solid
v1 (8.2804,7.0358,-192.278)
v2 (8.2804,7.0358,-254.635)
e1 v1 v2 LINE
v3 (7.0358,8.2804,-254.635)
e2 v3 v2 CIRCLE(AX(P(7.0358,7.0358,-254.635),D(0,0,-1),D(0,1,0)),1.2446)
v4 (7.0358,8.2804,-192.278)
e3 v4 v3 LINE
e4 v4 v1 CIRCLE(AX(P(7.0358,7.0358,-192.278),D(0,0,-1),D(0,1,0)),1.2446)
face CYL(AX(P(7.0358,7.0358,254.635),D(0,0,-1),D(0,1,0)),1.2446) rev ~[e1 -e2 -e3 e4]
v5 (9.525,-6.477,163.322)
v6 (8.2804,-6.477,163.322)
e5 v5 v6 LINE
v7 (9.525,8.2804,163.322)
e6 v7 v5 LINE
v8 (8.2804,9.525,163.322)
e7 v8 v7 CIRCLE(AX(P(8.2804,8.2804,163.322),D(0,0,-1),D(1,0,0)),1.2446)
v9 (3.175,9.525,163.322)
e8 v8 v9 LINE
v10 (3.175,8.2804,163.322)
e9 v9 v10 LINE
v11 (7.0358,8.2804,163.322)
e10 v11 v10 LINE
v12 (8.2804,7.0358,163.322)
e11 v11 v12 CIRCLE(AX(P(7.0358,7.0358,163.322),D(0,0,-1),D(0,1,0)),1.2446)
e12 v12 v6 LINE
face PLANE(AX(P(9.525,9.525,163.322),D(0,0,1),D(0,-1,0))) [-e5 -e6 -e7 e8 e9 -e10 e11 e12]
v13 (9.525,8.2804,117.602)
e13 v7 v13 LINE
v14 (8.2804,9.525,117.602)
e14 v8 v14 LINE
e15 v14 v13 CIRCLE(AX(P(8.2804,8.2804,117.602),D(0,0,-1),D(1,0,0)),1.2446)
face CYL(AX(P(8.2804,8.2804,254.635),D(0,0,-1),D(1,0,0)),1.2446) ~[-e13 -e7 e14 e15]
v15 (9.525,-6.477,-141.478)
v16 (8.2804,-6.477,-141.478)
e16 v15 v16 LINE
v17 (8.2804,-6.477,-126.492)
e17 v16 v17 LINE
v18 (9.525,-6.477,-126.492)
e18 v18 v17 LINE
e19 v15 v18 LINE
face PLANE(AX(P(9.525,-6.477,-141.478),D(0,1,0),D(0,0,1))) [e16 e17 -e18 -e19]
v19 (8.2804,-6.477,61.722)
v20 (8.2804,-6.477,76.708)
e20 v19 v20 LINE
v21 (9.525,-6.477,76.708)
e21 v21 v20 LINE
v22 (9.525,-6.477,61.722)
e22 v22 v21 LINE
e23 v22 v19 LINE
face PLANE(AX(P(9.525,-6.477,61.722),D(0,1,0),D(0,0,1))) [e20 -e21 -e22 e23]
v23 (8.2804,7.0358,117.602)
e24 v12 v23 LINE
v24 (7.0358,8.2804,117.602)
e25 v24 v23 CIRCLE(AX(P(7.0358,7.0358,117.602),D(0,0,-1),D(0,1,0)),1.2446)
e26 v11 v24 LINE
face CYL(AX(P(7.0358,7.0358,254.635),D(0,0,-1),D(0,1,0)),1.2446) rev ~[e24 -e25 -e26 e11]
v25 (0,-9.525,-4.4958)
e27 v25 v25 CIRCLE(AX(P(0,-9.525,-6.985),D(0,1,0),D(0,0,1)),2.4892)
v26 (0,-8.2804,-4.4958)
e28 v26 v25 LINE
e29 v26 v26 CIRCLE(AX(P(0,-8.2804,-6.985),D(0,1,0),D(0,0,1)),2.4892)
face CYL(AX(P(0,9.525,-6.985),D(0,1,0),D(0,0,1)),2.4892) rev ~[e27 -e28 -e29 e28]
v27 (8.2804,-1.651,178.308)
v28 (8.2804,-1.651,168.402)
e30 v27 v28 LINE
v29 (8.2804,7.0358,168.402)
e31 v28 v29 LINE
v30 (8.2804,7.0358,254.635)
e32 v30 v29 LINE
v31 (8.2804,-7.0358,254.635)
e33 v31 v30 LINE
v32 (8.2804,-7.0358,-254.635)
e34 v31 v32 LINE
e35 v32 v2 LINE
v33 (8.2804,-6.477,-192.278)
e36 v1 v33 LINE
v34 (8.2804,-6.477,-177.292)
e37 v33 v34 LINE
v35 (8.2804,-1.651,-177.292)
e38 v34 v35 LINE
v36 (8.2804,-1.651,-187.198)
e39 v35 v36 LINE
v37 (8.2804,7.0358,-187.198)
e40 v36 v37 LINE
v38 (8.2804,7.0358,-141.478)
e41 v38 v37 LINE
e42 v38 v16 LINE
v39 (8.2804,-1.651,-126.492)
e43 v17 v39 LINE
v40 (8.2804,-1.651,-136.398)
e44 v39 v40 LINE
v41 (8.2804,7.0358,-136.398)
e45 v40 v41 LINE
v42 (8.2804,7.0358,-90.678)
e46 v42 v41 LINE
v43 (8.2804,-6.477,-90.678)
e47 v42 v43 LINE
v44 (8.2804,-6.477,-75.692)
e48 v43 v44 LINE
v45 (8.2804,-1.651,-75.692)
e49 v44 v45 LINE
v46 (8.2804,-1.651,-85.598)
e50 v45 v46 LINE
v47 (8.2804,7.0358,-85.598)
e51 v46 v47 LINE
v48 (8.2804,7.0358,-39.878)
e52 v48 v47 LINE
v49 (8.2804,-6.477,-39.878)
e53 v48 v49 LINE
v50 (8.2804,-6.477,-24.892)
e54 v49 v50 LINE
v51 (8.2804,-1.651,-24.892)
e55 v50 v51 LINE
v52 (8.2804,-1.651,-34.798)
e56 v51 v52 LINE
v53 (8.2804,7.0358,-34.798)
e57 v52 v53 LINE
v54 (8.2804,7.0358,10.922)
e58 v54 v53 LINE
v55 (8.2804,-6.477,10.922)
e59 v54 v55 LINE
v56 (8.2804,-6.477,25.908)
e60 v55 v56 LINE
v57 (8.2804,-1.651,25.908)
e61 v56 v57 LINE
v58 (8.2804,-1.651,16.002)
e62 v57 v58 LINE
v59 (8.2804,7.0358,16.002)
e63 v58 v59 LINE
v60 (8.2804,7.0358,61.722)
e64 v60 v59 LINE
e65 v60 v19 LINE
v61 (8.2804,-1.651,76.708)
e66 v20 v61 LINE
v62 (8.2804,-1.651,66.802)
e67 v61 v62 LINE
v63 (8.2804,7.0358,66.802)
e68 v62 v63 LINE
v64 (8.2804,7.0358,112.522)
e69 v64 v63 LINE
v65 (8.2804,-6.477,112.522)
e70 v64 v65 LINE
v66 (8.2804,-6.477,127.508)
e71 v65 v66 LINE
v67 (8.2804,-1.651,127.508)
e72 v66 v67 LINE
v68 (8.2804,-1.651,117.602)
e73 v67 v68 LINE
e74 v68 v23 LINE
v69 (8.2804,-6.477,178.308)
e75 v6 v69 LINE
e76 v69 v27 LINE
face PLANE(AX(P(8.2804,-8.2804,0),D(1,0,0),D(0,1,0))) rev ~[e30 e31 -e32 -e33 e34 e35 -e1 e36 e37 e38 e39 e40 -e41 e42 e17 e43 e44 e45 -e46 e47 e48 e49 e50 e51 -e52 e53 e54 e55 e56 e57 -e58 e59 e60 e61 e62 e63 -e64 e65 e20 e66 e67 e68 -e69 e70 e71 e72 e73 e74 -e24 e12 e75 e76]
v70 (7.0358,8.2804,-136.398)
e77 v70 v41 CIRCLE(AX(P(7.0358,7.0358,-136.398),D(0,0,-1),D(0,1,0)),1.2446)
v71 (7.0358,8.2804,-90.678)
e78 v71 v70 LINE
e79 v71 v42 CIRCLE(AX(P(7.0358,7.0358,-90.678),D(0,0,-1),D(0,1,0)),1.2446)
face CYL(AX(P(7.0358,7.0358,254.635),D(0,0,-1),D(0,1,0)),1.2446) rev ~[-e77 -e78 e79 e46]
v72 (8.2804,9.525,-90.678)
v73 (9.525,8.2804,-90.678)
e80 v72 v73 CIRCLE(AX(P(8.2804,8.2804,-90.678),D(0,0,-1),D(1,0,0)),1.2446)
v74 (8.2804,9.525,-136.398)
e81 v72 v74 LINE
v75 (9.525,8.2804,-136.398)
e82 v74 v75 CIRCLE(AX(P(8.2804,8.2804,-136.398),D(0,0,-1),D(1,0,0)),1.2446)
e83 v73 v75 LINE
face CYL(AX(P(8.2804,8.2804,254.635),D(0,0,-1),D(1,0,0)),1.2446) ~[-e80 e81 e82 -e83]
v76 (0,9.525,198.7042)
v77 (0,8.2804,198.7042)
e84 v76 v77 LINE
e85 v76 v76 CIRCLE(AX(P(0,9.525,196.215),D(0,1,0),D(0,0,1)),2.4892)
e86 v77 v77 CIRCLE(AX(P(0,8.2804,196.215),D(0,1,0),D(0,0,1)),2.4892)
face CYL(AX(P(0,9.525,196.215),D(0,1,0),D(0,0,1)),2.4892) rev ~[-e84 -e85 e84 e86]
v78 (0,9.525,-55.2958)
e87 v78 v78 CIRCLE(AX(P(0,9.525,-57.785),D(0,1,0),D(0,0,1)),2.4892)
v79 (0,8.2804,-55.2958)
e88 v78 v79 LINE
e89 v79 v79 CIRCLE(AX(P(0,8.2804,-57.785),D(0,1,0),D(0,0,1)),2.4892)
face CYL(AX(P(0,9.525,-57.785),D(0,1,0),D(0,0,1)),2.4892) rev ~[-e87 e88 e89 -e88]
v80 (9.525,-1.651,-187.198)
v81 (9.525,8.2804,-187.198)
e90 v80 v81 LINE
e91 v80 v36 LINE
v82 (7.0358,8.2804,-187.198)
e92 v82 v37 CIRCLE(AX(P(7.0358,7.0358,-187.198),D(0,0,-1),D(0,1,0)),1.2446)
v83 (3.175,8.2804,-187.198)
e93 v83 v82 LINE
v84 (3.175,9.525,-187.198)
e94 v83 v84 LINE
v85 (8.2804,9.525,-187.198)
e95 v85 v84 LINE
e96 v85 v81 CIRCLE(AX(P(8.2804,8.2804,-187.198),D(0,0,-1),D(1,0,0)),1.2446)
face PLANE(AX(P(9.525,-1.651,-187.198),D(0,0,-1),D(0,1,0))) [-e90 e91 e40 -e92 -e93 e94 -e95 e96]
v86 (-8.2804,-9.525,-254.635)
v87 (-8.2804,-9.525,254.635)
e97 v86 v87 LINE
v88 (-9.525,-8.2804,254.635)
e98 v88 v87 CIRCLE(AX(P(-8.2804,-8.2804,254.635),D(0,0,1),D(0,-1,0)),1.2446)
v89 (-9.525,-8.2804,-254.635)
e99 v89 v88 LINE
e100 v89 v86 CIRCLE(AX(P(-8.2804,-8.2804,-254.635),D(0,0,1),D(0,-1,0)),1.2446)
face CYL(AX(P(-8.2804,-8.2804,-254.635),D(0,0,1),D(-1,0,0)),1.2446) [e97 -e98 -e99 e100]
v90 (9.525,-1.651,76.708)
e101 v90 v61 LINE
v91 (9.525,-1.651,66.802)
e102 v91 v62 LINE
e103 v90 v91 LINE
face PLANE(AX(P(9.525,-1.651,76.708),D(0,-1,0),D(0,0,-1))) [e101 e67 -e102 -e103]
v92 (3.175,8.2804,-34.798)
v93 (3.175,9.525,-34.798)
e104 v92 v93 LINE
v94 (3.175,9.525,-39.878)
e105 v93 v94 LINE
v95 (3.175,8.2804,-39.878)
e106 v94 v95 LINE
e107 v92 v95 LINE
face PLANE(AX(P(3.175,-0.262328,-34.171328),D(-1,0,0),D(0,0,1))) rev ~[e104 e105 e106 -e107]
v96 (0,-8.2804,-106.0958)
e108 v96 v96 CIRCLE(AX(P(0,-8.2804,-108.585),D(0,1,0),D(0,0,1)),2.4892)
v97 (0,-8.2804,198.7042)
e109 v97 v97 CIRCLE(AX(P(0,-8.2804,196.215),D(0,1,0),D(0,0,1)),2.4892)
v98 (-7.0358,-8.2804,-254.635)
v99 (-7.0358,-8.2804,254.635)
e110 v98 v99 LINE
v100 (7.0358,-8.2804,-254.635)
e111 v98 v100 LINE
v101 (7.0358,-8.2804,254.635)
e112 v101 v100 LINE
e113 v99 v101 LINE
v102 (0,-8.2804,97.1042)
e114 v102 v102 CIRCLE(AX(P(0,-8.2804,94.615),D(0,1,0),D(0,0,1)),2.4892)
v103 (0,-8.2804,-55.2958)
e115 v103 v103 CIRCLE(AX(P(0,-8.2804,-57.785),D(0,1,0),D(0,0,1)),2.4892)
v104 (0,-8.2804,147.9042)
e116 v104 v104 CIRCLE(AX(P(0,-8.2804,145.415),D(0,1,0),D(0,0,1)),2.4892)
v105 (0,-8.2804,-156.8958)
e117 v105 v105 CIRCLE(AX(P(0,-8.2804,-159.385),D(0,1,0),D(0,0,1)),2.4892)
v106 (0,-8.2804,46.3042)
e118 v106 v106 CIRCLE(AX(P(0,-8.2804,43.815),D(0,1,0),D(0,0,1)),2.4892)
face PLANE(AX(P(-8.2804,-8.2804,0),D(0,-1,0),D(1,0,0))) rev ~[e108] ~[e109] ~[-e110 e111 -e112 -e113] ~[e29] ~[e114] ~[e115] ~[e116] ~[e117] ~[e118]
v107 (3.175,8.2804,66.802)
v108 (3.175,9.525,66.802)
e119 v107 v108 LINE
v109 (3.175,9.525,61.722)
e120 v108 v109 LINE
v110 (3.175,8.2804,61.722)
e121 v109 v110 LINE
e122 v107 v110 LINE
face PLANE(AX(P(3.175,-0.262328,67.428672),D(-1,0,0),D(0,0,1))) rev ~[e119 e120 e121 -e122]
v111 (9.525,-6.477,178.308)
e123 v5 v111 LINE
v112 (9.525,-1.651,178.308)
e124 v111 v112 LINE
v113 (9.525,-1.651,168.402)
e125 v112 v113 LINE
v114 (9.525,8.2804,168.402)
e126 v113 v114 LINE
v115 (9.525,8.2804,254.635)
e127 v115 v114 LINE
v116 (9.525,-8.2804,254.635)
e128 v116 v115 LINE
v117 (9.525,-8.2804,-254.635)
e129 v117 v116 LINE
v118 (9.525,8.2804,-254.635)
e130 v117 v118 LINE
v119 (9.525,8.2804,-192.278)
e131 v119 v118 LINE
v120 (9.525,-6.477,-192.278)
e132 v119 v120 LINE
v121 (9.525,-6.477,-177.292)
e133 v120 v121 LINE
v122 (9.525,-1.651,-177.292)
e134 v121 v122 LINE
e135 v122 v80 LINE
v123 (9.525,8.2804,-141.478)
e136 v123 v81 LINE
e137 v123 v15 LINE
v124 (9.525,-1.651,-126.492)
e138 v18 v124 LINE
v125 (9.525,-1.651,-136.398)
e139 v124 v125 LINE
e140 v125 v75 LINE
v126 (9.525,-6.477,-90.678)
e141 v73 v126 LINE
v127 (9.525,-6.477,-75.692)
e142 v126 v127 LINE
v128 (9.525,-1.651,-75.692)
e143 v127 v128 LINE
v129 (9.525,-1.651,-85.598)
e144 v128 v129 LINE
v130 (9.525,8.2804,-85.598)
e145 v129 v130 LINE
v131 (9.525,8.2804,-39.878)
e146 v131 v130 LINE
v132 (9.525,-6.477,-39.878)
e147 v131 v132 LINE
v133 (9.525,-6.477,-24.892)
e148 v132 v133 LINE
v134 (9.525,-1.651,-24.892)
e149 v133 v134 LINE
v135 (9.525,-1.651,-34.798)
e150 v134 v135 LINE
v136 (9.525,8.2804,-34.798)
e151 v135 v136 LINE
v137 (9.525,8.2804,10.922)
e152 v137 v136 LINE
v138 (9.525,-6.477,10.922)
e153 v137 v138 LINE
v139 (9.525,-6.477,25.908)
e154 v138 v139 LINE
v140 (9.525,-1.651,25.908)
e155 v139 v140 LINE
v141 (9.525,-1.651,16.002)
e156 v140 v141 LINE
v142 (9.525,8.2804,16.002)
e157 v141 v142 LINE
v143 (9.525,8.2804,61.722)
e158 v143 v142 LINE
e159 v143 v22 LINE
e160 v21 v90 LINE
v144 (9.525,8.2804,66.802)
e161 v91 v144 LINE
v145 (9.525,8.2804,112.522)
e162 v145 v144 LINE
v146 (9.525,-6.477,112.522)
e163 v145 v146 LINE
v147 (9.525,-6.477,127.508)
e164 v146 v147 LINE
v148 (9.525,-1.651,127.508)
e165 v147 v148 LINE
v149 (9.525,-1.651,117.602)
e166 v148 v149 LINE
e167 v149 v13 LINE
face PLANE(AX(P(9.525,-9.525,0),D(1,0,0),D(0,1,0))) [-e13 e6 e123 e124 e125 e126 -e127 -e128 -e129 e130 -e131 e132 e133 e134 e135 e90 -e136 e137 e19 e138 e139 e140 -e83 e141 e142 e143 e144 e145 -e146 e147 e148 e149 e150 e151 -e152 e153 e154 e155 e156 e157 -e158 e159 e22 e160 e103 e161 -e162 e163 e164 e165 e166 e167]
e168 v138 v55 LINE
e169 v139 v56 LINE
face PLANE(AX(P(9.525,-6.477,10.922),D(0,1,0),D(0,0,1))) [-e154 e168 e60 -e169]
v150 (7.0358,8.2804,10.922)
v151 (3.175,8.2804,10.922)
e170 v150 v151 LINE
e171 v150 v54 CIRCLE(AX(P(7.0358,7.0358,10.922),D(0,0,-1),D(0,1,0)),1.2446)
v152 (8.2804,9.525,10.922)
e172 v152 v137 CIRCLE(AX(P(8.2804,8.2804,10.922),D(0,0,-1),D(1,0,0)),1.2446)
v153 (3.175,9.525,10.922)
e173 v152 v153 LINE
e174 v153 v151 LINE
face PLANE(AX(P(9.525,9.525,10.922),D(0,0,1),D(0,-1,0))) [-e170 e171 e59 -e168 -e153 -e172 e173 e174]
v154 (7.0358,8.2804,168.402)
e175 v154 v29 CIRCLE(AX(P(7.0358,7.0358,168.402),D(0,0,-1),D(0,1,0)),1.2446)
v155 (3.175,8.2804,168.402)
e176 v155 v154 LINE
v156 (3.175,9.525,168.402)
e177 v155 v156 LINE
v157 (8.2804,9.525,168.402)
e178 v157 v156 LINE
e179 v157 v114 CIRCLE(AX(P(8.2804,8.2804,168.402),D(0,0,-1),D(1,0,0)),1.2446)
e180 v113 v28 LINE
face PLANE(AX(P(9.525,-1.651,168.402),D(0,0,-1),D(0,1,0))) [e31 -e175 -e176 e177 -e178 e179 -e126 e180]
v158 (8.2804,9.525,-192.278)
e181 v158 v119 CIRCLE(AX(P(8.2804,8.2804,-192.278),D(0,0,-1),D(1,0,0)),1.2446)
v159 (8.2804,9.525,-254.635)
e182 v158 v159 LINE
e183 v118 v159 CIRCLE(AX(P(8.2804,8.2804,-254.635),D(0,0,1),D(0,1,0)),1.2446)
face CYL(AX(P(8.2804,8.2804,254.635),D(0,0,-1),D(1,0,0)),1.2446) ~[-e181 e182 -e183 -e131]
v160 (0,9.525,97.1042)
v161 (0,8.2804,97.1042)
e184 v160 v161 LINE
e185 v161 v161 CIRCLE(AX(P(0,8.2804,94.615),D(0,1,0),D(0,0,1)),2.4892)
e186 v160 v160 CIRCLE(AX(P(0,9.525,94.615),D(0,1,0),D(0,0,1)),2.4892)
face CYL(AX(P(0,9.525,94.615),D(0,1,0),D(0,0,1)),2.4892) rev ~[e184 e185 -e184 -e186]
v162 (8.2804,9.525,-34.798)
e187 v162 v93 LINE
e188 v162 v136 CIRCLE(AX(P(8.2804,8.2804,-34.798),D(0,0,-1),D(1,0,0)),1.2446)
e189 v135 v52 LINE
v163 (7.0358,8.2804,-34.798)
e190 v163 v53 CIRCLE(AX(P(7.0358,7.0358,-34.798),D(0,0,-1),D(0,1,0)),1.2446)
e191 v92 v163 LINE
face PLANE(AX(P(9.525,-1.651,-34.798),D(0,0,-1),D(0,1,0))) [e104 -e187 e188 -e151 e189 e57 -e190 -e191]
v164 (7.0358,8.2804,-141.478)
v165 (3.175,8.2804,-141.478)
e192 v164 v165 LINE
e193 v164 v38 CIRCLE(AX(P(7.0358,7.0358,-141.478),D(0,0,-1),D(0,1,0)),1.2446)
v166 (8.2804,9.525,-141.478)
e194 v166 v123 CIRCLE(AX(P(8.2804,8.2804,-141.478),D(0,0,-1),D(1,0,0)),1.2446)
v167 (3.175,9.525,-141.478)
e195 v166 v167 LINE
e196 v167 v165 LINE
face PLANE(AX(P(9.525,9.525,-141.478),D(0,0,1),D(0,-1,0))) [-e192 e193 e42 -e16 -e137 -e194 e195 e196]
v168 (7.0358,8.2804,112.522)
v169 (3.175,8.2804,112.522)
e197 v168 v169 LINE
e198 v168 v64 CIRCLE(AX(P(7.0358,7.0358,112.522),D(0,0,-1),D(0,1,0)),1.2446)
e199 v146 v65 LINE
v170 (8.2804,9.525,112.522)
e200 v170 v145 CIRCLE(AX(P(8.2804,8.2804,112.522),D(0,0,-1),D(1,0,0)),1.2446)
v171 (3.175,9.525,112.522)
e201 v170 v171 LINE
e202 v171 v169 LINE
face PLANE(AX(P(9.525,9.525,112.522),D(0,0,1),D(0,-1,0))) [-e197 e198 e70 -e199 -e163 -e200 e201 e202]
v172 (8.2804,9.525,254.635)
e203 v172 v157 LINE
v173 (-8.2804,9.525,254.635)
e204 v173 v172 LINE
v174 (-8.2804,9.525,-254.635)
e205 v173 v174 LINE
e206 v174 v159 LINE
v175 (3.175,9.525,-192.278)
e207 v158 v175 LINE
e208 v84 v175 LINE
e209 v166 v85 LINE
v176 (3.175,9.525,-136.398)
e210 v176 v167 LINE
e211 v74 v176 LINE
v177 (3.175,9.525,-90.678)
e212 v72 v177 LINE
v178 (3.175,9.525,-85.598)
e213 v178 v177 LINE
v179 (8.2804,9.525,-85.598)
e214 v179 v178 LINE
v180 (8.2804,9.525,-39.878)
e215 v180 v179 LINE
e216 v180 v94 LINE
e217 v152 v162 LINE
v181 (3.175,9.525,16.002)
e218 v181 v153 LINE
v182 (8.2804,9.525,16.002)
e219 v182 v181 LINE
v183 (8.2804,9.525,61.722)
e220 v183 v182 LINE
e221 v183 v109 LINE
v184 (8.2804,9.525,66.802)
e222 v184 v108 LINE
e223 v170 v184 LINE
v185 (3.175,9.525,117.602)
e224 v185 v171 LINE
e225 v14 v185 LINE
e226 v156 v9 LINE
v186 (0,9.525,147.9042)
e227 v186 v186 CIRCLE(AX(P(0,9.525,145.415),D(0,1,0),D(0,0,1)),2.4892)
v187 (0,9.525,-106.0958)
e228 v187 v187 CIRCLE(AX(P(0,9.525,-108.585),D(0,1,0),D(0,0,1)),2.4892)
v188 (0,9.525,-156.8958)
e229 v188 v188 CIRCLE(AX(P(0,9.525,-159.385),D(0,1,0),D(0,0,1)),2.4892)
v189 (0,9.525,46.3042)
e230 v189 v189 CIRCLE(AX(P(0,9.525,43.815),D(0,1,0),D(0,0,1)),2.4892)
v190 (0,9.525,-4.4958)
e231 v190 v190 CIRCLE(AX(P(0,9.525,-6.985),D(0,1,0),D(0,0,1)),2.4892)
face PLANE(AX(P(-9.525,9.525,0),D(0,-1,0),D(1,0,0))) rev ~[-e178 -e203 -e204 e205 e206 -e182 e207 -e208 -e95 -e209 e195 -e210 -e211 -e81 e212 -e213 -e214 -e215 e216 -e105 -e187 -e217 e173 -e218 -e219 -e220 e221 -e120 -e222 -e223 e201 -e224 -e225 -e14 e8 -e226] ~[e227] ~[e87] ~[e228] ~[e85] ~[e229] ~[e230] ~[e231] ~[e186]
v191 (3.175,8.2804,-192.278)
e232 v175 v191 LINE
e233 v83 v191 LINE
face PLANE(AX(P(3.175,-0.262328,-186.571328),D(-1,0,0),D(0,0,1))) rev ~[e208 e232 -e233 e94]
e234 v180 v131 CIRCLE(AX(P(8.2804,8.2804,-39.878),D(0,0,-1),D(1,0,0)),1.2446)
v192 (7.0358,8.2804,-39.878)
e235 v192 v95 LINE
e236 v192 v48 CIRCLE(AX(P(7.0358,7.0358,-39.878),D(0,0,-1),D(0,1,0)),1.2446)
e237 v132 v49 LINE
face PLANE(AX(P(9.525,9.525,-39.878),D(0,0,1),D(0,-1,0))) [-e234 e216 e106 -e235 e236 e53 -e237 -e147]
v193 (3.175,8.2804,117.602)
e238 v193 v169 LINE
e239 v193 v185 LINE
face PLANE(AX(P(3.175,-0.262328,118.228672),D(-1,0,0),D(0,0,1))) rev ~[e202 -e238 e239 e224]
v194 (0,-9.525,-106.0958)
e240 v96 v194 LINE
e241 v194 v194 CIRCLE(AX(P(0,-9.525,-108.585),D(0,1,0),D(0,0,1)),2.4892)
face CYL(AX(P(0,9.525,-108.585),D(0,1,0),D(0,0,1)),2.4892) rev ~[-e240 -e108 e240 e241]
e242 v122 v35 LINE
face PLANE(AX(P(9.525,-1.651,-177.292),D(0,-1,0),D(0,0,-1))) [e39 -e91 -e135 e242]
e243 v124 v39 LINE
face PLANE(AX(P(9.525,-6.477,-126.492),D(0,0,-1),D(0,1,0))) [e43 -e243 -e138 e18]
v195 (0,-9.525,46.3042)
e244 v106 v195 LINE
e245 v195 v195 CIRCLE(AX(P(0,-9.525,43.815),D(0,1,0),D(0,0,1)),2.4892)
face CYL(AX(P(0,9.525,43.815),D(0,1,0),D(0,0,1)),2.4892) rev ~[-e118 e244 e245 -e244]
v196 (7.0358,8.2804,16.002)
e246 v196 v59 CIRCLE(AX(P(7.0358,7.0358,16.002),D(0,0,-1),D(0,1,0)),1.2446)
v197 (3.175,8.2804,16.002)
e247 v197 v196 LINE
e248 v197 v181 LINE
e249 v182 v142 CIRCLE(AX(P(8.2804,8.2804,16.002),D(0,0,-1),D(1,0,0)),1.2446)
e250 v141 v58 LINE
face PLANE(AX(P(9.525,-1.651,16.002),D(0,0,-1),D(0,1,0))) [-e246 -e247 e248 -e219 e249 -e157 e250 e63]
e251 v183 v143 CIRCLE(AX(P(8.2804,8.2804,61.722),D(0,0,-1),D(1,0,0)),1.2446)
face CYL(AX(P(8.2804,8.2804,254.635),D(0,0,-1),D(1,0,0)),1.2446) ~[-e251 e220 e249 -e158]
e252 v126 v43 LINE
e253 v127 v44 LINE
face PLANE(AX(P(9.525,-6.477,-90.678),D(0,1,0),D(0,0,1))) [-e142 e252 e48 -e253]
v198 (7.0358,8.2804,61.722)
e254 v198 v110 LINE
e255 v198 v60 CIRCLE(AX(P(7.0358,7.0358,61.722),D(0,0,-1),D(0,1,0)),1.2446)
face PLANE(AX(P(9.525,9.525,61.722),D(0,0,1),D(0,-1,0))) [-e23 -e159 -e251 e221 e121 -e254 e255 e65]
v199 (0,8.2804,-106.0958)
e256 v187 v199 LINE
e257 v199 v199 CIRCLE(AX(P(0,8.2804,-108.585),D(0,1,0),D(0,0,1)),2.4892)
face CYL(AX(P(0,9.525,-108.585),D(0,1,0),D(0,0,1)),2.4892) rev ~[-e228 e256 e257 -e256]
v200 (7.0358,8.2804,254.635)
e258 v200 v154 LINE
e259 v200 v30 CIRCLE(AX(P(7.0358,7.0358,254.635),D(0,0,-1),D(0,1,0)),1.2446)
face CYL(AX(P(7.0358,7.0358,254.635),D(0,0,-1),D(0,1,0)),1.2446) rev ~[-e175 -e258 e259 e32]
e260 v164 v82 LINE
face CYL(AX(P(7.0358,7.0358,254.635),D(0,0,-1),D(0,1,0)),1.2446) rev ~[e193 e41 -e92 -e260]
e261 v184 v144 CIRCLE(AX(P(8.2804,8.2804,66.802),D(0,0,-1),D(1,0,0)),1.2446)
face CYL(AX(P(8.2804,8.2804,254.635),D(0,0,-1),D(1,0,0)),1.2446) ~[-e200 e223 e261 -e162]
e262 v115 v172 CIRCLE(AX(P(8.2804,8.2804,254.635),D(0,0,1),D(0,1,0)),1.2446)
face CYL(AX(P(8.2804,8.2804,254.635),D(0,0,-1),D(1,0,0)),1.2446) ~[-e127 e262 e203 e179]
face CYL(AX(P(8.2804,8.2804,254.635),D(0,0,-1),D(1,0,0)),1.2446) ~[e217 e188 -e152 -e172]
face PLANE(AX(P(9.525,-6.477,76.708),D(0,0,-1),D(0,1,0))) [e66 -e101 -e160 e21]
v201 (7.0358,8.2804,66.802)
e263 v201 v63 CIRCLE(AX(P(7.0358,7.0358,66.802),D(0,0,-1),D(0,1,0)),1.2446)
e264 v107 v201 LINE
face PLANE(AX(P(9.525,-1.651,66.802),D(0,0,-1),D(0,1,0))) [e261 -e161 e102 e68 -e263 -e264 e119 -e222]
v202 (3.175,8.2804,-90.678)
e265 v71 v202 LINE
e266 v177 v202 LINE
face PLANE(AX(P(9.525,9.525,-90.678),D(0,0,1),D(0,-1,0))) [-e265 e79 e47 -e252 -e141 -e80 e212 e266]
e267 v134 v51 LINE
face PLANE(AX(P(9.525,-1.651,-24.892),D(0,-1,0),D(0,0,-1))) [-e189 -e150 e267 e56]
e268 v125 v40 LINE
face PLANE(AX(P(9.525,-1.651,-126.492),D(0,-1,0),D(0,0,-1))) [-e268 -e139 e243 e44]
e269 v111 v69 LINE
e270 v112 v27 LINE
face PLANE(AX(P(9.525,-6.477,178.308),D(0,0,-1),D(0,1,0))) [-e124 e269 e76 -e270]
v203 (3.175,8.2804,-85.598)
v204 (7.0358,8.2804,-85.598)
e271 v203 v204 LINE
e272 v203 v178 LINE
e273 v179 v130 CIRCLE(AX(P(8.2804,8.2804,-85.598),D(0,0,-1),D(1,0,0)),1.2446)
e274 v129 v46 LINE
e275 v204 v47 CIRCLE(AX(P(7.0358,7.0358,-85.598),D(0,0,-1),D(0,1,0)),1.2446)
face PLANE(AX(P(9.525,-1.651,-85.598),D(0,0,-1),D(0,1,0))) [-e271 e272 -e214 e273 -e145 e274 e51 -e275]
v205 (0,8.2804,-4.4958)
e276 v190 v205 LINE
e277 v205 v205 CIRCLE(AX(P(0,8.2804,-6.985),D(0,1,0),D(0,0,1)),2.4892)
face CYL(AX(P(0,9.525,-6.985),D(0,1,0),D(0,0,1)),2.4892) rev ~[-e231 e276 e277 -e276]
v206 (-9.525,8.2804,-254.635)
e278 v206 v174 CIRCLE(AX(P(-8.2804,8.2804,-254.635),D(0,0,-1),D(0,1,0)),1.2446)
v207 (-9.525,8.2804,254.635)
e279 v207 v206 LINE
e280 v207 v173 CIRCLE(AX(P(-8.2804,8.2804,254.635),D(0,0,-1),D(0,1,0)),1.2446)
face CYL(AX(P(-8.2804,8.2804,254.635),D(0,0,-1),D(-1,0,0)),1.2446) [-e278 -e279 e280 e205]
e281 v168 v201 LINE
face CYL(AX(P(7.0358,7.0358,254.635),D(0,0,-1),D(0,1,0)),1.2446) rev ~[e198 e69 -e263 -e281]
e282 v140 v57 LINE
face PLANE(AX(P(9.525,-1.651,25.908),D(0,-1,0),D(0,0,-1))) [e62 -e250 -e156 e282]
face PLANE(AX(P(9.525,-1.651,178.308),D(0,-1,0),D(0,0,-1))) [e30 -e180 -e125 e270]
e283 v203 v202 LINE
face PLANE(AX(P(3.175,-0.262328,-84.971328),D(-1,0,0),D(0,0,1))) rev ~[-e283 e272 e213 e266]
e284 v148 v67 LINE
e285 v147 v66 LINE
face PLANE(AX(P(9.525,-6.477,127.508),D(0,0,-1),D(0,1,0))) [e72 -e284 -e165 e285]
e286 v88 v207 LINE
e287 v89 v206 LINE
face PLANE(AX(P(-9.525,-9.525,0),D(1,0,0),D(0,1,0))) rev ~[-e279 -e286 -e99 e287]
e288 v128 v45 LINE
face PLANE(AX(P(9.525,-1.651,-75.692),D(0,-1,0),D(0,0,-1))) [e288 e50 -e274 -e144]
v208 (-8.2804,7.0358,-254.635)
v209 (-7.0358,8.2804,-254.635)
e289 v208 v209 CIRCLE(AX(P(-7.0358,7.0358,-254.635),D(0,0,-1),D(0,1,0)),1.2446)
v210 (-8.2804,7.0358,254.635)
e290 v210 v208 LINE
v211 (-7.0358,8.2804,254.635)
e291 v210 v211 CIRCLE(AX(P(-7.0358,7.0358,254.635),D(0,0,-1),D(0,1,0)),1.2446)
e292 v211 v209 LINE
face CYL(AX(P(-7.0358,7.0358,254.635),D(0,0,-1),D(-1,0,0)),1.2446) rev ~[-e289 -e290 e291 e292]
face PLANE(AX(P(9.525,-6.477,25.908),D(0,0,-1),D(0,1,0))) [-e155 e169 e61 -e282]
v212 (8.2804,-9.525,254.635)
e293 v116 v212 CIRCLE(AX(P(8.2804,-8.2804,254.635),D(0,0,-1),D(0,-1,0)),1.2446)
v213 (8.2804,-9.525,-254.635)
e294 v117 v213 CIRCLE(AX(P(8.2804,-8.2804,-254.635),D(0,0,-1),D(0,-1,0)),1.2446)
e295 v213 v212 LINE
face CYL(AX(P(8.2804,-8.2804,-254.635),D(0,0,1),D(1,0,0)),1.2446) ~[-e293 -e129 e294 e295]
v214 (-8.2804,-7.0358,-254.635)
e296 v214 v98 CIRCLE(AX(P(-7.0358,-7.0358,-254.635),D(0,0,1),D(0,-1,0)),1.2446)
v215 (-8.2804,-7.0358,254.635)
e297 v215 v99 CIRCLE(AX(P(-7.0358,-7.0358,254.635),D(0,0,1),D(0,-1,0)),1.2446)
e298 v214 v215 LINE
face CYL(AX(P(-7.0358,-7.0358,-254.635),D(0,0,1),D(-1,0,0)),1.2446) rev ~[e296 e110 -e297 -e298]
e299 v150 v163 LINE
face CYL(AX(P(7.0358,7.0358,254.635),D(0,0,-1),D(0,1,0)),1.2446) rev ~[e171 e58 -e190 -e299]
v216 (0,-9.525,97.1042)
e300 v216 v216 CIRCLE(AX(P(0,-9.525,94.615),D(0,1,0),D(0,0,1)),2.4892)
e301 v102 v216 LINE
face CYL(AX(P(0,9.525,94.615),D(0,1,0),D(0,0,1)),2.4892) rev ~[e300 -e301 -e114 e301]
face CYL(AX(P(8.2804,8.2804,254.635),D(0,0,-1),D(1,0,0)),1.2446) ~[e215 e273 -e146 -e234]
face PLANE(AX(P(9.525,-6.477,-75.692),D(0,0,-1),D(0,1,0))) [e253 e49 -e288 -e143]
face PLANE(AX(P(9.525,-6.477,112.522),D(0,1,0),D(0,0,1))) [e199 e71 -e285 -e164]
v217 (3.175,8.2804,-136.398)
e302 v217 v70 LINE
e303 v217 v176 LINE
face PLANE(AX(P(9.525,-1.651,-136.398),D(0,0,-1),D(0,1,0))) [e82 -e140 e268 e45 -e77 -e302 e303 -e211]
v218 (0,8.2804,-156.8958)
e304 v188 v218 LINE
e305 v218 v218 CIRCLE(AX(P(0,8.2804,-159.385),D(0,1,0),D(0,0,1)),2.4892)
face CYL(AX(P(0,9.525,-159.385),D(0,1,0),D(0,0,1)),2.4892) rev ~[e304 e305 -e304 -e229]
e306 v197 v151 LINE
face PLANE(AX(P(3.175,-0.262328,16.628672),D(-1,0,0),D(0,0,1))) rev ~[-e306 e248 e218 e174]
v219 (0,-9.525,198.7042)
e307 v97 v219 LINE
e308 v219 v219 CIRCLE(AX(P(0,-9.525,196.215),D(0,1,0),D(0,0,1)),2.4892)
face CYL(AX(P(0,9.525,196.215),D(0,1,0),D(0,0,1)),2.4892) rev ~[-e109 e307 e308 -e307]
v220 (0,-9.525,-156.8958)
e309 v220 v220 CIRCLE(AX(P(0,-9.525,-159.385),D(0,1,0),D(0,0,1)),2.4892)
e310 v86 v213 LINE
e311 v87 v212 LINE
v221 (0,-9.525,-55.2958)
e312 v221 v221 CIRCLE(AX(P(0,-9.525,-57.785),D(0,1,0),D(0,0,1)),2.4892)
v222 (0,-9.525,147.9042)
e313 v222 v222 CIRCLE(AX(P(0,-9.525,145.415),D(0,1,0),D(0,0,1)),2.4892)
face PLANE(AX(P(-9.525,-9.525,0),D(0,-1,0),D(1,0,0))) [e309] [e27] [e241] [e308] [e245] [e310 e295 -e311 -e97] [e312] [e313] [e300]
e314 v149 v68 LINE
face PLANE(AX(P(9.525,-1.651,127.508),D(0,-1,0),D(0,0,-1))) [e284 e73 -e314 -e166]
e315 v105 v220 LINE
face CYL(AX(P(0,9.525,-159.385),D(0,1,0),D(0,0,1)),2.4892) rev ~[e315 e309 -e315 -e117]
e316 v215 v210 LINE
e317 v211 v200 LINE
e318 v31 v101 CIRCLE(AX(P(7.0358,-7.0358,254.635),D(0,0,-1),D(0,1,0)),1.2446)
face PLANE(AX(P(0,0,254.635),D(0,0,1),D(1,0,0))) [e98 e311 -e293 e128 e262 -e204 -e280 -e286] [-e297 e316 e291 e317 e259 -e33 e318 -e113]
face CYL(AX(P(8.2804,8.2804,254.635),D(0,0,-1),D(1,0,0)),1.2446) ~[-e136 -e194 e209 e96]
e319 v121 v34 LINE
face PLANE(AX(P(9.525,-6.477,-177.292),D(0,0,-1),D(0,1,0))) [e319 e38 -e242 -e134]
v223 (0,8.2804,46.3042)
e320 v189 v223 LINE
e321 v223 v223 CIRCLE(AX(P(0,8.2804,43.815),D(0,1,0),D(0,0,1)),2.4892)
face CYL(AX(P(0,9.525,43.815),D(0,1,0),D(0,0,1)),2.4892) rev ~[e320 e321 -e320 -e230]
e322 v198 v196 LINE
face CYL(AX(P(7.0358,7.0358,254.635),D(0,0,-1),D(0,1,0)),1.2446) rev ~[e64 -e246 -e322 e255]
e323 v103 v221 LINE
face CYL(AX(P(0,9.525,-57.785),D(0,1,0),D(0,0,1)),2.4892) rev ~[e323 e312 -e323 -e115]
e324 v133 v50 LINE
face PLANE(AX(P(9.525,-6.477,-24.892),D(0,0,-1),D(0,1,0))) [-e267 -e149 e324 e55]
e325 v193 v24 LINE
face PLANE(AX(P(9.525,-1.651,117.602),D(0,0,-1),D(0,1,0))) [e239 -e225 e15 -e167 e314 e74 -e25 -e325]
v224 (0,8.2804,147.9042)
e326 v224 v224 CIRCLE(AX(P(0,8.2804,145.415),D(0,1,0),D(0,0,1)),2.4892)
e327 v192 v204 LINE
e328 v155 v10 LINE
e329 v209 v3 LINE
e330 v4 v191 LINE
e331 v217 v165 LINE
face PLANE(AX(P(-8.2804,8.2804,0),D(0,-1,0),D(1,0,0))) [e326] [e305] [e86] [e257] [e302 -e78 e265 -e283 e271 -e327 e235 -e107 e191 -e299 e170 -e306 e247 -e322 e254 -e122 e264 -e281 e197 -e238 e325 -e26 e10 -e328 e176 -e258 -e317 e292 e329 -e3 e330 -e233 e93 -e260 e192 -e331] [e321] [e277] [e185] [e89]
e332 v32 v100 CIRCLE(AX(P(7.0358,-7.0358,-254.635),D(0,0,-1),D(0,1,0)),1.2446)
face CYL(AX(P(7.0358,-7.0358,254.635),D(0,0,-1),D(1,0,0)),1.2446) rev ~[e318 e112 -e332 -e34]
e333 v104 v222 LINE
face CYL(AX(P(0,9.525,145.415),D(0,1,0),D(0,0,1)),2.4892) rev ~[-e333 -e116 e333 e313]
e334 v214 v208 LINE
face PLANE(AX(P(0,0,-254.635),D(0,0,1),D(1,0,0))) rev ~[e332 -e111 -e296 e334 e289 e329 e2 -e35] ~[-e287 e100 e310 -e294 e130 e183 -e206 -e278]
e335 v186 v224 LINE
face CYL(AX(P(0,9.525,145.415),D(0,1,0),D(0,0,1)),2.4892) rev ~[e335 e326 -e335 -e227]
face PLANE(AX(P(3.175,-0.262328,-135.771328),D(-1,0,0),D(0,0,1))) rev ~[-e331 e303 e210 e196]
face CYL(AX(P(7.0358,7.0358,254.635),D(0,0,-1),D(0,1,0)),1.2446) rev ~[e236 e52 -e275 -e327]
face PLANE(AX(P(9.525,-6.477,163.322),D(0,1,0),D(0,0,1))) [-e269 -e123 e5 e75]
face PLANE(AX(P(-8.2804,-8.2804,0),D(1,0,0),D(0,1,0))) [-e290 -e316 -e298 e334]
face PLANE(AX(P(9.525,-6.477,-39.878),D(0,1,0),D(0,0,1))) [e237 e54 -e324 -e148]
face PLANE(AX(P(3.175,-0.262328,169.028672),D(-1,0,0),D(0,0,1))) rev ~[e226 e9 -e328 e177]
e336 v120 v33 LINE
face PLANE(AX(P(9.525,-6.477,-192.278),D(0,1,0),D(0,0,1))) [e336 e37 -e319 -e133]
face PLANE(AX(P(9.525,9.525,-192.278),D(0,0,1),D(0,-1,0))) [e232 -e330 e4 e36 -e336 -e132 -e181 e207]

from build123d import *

# Parameters (mm, degrees)
SKETCH3_W           = 19.05
SKETCH3_H           = 19.05
SKETCH3_W_2         = 16.5608
SKETCH3_H_2         = 16.5608
BOSS_EXTRUDE1_DEPTH = 254.635
FILLET1_R           = 1.2446
SKETCH4_R           = 2.4892
CUT_EXTRUDE1_DEPTH  = 256.524189364
CUT_EXTRUDE3_START  = -19.05
CUT_EXTRUDE3_DEPTH  = 6.35
LPATTERN2_COUNT     = 8
LPATTERN2_PITCH     = 50.8


with BuildPart() as part:
    # Sketch3 → Boss-Extrude1 (new, symmetric)
    with BuildSketch(Plane.XY):
        Rectangle(SKETCH3_W, SKETCH3_H)
        Rectangle(SKETCH3_W_2, SKETCH3_H_2, mode=Mode.SUBTRACT)
    extrude(amount=BOSS_EXTRUDE1_DEPTH, both=True)

    # Fillet1
    fillet1_edges = [part.edges().sort_by_distance(p)[0] for p in [
        (-8.2804, -8.2804, 0),
        (8.2804, -8.2804, 0),
        (8.2804, 8.2804, 0),
        (-8.2804, 8.2804, 0),
        (9.525, -9.525, 0),
        (-9.525, -9.525, 0),
        (-9.525, 9.525, 0),
        (9.525, 9.525, 0),
    ]]
    fillet(fillet1_edges, radius=FILLET1_R)

    # Sketch4 → Cut-Extrude1 (cut, through all)
    with BuildSketch(Plane(origin=(0, 9.525, 0), x_dir=(1, 0, 0), z_dir=(0, 1, 0))):
        with Locations(Location((0, 159.385, 0), (0, 0, 270))):
            Circle(SKETCH4_R)
        with Locations(Location((0, 108.585, 0), (0, 0, 270))):
            Circle(SKETCH4_R)
        with Locations(Location((0, 57.785, 0), (0, 0, 270))):
            Circle(SKETCH4_R)
        with Locations(Location((0, 6.985, 0), (0, 0, 270))):
            Circle(SKETCH4_R)
        with Locations(Location((0, -43.815, 0), (0, 0, 270))):
            Circle(SKETCH4_R)
        with Locations(Location((0, -94.615, 0), (0, 0, 270))):
            Circle(SKETCH4_R)
        with Locations(Location((0, -145.415, 0), (0, 0, 270))):
            Circle(SKETCH4_R)
        with Locations(Location((0, -196.215, 0), (0, 0, 270))):
            Circle(SKETCH4_R)
    extrude(amount=-CUT_EXTRUDE1_DEPTH, mode=Mode.SUBTRACT)

    # Sketch6 → Cut-Extrude3 (cut)
    with BuildSketch(Plane.ZY.offset(9.525).offset(CUT_EXTRUDE3_START)):
        Polygon((-182.118, -1.651), (-187.198, -1.651), (-187.198, 9.525), (-192.278, 9.525), (-192.278, -6.477), (-182.118, -6.477), (-177.292, -6.477), (-177.292, -1.651), align=None)
    cut_extrude3 = extrude(amount=CUT_EXTRUDE3_DEPTH, mode=Mode.SUBTRACT)

    # LPattern2: Cut-Extrude3 ×8
    with Locations(*[(0, 0, i * LPATTERN2_PITCH) for i in range(1, LPATTERN2_COUNT)]):
        add(cut_extrude3, mode=Mode.SUBTRACT)


solid = part.part
